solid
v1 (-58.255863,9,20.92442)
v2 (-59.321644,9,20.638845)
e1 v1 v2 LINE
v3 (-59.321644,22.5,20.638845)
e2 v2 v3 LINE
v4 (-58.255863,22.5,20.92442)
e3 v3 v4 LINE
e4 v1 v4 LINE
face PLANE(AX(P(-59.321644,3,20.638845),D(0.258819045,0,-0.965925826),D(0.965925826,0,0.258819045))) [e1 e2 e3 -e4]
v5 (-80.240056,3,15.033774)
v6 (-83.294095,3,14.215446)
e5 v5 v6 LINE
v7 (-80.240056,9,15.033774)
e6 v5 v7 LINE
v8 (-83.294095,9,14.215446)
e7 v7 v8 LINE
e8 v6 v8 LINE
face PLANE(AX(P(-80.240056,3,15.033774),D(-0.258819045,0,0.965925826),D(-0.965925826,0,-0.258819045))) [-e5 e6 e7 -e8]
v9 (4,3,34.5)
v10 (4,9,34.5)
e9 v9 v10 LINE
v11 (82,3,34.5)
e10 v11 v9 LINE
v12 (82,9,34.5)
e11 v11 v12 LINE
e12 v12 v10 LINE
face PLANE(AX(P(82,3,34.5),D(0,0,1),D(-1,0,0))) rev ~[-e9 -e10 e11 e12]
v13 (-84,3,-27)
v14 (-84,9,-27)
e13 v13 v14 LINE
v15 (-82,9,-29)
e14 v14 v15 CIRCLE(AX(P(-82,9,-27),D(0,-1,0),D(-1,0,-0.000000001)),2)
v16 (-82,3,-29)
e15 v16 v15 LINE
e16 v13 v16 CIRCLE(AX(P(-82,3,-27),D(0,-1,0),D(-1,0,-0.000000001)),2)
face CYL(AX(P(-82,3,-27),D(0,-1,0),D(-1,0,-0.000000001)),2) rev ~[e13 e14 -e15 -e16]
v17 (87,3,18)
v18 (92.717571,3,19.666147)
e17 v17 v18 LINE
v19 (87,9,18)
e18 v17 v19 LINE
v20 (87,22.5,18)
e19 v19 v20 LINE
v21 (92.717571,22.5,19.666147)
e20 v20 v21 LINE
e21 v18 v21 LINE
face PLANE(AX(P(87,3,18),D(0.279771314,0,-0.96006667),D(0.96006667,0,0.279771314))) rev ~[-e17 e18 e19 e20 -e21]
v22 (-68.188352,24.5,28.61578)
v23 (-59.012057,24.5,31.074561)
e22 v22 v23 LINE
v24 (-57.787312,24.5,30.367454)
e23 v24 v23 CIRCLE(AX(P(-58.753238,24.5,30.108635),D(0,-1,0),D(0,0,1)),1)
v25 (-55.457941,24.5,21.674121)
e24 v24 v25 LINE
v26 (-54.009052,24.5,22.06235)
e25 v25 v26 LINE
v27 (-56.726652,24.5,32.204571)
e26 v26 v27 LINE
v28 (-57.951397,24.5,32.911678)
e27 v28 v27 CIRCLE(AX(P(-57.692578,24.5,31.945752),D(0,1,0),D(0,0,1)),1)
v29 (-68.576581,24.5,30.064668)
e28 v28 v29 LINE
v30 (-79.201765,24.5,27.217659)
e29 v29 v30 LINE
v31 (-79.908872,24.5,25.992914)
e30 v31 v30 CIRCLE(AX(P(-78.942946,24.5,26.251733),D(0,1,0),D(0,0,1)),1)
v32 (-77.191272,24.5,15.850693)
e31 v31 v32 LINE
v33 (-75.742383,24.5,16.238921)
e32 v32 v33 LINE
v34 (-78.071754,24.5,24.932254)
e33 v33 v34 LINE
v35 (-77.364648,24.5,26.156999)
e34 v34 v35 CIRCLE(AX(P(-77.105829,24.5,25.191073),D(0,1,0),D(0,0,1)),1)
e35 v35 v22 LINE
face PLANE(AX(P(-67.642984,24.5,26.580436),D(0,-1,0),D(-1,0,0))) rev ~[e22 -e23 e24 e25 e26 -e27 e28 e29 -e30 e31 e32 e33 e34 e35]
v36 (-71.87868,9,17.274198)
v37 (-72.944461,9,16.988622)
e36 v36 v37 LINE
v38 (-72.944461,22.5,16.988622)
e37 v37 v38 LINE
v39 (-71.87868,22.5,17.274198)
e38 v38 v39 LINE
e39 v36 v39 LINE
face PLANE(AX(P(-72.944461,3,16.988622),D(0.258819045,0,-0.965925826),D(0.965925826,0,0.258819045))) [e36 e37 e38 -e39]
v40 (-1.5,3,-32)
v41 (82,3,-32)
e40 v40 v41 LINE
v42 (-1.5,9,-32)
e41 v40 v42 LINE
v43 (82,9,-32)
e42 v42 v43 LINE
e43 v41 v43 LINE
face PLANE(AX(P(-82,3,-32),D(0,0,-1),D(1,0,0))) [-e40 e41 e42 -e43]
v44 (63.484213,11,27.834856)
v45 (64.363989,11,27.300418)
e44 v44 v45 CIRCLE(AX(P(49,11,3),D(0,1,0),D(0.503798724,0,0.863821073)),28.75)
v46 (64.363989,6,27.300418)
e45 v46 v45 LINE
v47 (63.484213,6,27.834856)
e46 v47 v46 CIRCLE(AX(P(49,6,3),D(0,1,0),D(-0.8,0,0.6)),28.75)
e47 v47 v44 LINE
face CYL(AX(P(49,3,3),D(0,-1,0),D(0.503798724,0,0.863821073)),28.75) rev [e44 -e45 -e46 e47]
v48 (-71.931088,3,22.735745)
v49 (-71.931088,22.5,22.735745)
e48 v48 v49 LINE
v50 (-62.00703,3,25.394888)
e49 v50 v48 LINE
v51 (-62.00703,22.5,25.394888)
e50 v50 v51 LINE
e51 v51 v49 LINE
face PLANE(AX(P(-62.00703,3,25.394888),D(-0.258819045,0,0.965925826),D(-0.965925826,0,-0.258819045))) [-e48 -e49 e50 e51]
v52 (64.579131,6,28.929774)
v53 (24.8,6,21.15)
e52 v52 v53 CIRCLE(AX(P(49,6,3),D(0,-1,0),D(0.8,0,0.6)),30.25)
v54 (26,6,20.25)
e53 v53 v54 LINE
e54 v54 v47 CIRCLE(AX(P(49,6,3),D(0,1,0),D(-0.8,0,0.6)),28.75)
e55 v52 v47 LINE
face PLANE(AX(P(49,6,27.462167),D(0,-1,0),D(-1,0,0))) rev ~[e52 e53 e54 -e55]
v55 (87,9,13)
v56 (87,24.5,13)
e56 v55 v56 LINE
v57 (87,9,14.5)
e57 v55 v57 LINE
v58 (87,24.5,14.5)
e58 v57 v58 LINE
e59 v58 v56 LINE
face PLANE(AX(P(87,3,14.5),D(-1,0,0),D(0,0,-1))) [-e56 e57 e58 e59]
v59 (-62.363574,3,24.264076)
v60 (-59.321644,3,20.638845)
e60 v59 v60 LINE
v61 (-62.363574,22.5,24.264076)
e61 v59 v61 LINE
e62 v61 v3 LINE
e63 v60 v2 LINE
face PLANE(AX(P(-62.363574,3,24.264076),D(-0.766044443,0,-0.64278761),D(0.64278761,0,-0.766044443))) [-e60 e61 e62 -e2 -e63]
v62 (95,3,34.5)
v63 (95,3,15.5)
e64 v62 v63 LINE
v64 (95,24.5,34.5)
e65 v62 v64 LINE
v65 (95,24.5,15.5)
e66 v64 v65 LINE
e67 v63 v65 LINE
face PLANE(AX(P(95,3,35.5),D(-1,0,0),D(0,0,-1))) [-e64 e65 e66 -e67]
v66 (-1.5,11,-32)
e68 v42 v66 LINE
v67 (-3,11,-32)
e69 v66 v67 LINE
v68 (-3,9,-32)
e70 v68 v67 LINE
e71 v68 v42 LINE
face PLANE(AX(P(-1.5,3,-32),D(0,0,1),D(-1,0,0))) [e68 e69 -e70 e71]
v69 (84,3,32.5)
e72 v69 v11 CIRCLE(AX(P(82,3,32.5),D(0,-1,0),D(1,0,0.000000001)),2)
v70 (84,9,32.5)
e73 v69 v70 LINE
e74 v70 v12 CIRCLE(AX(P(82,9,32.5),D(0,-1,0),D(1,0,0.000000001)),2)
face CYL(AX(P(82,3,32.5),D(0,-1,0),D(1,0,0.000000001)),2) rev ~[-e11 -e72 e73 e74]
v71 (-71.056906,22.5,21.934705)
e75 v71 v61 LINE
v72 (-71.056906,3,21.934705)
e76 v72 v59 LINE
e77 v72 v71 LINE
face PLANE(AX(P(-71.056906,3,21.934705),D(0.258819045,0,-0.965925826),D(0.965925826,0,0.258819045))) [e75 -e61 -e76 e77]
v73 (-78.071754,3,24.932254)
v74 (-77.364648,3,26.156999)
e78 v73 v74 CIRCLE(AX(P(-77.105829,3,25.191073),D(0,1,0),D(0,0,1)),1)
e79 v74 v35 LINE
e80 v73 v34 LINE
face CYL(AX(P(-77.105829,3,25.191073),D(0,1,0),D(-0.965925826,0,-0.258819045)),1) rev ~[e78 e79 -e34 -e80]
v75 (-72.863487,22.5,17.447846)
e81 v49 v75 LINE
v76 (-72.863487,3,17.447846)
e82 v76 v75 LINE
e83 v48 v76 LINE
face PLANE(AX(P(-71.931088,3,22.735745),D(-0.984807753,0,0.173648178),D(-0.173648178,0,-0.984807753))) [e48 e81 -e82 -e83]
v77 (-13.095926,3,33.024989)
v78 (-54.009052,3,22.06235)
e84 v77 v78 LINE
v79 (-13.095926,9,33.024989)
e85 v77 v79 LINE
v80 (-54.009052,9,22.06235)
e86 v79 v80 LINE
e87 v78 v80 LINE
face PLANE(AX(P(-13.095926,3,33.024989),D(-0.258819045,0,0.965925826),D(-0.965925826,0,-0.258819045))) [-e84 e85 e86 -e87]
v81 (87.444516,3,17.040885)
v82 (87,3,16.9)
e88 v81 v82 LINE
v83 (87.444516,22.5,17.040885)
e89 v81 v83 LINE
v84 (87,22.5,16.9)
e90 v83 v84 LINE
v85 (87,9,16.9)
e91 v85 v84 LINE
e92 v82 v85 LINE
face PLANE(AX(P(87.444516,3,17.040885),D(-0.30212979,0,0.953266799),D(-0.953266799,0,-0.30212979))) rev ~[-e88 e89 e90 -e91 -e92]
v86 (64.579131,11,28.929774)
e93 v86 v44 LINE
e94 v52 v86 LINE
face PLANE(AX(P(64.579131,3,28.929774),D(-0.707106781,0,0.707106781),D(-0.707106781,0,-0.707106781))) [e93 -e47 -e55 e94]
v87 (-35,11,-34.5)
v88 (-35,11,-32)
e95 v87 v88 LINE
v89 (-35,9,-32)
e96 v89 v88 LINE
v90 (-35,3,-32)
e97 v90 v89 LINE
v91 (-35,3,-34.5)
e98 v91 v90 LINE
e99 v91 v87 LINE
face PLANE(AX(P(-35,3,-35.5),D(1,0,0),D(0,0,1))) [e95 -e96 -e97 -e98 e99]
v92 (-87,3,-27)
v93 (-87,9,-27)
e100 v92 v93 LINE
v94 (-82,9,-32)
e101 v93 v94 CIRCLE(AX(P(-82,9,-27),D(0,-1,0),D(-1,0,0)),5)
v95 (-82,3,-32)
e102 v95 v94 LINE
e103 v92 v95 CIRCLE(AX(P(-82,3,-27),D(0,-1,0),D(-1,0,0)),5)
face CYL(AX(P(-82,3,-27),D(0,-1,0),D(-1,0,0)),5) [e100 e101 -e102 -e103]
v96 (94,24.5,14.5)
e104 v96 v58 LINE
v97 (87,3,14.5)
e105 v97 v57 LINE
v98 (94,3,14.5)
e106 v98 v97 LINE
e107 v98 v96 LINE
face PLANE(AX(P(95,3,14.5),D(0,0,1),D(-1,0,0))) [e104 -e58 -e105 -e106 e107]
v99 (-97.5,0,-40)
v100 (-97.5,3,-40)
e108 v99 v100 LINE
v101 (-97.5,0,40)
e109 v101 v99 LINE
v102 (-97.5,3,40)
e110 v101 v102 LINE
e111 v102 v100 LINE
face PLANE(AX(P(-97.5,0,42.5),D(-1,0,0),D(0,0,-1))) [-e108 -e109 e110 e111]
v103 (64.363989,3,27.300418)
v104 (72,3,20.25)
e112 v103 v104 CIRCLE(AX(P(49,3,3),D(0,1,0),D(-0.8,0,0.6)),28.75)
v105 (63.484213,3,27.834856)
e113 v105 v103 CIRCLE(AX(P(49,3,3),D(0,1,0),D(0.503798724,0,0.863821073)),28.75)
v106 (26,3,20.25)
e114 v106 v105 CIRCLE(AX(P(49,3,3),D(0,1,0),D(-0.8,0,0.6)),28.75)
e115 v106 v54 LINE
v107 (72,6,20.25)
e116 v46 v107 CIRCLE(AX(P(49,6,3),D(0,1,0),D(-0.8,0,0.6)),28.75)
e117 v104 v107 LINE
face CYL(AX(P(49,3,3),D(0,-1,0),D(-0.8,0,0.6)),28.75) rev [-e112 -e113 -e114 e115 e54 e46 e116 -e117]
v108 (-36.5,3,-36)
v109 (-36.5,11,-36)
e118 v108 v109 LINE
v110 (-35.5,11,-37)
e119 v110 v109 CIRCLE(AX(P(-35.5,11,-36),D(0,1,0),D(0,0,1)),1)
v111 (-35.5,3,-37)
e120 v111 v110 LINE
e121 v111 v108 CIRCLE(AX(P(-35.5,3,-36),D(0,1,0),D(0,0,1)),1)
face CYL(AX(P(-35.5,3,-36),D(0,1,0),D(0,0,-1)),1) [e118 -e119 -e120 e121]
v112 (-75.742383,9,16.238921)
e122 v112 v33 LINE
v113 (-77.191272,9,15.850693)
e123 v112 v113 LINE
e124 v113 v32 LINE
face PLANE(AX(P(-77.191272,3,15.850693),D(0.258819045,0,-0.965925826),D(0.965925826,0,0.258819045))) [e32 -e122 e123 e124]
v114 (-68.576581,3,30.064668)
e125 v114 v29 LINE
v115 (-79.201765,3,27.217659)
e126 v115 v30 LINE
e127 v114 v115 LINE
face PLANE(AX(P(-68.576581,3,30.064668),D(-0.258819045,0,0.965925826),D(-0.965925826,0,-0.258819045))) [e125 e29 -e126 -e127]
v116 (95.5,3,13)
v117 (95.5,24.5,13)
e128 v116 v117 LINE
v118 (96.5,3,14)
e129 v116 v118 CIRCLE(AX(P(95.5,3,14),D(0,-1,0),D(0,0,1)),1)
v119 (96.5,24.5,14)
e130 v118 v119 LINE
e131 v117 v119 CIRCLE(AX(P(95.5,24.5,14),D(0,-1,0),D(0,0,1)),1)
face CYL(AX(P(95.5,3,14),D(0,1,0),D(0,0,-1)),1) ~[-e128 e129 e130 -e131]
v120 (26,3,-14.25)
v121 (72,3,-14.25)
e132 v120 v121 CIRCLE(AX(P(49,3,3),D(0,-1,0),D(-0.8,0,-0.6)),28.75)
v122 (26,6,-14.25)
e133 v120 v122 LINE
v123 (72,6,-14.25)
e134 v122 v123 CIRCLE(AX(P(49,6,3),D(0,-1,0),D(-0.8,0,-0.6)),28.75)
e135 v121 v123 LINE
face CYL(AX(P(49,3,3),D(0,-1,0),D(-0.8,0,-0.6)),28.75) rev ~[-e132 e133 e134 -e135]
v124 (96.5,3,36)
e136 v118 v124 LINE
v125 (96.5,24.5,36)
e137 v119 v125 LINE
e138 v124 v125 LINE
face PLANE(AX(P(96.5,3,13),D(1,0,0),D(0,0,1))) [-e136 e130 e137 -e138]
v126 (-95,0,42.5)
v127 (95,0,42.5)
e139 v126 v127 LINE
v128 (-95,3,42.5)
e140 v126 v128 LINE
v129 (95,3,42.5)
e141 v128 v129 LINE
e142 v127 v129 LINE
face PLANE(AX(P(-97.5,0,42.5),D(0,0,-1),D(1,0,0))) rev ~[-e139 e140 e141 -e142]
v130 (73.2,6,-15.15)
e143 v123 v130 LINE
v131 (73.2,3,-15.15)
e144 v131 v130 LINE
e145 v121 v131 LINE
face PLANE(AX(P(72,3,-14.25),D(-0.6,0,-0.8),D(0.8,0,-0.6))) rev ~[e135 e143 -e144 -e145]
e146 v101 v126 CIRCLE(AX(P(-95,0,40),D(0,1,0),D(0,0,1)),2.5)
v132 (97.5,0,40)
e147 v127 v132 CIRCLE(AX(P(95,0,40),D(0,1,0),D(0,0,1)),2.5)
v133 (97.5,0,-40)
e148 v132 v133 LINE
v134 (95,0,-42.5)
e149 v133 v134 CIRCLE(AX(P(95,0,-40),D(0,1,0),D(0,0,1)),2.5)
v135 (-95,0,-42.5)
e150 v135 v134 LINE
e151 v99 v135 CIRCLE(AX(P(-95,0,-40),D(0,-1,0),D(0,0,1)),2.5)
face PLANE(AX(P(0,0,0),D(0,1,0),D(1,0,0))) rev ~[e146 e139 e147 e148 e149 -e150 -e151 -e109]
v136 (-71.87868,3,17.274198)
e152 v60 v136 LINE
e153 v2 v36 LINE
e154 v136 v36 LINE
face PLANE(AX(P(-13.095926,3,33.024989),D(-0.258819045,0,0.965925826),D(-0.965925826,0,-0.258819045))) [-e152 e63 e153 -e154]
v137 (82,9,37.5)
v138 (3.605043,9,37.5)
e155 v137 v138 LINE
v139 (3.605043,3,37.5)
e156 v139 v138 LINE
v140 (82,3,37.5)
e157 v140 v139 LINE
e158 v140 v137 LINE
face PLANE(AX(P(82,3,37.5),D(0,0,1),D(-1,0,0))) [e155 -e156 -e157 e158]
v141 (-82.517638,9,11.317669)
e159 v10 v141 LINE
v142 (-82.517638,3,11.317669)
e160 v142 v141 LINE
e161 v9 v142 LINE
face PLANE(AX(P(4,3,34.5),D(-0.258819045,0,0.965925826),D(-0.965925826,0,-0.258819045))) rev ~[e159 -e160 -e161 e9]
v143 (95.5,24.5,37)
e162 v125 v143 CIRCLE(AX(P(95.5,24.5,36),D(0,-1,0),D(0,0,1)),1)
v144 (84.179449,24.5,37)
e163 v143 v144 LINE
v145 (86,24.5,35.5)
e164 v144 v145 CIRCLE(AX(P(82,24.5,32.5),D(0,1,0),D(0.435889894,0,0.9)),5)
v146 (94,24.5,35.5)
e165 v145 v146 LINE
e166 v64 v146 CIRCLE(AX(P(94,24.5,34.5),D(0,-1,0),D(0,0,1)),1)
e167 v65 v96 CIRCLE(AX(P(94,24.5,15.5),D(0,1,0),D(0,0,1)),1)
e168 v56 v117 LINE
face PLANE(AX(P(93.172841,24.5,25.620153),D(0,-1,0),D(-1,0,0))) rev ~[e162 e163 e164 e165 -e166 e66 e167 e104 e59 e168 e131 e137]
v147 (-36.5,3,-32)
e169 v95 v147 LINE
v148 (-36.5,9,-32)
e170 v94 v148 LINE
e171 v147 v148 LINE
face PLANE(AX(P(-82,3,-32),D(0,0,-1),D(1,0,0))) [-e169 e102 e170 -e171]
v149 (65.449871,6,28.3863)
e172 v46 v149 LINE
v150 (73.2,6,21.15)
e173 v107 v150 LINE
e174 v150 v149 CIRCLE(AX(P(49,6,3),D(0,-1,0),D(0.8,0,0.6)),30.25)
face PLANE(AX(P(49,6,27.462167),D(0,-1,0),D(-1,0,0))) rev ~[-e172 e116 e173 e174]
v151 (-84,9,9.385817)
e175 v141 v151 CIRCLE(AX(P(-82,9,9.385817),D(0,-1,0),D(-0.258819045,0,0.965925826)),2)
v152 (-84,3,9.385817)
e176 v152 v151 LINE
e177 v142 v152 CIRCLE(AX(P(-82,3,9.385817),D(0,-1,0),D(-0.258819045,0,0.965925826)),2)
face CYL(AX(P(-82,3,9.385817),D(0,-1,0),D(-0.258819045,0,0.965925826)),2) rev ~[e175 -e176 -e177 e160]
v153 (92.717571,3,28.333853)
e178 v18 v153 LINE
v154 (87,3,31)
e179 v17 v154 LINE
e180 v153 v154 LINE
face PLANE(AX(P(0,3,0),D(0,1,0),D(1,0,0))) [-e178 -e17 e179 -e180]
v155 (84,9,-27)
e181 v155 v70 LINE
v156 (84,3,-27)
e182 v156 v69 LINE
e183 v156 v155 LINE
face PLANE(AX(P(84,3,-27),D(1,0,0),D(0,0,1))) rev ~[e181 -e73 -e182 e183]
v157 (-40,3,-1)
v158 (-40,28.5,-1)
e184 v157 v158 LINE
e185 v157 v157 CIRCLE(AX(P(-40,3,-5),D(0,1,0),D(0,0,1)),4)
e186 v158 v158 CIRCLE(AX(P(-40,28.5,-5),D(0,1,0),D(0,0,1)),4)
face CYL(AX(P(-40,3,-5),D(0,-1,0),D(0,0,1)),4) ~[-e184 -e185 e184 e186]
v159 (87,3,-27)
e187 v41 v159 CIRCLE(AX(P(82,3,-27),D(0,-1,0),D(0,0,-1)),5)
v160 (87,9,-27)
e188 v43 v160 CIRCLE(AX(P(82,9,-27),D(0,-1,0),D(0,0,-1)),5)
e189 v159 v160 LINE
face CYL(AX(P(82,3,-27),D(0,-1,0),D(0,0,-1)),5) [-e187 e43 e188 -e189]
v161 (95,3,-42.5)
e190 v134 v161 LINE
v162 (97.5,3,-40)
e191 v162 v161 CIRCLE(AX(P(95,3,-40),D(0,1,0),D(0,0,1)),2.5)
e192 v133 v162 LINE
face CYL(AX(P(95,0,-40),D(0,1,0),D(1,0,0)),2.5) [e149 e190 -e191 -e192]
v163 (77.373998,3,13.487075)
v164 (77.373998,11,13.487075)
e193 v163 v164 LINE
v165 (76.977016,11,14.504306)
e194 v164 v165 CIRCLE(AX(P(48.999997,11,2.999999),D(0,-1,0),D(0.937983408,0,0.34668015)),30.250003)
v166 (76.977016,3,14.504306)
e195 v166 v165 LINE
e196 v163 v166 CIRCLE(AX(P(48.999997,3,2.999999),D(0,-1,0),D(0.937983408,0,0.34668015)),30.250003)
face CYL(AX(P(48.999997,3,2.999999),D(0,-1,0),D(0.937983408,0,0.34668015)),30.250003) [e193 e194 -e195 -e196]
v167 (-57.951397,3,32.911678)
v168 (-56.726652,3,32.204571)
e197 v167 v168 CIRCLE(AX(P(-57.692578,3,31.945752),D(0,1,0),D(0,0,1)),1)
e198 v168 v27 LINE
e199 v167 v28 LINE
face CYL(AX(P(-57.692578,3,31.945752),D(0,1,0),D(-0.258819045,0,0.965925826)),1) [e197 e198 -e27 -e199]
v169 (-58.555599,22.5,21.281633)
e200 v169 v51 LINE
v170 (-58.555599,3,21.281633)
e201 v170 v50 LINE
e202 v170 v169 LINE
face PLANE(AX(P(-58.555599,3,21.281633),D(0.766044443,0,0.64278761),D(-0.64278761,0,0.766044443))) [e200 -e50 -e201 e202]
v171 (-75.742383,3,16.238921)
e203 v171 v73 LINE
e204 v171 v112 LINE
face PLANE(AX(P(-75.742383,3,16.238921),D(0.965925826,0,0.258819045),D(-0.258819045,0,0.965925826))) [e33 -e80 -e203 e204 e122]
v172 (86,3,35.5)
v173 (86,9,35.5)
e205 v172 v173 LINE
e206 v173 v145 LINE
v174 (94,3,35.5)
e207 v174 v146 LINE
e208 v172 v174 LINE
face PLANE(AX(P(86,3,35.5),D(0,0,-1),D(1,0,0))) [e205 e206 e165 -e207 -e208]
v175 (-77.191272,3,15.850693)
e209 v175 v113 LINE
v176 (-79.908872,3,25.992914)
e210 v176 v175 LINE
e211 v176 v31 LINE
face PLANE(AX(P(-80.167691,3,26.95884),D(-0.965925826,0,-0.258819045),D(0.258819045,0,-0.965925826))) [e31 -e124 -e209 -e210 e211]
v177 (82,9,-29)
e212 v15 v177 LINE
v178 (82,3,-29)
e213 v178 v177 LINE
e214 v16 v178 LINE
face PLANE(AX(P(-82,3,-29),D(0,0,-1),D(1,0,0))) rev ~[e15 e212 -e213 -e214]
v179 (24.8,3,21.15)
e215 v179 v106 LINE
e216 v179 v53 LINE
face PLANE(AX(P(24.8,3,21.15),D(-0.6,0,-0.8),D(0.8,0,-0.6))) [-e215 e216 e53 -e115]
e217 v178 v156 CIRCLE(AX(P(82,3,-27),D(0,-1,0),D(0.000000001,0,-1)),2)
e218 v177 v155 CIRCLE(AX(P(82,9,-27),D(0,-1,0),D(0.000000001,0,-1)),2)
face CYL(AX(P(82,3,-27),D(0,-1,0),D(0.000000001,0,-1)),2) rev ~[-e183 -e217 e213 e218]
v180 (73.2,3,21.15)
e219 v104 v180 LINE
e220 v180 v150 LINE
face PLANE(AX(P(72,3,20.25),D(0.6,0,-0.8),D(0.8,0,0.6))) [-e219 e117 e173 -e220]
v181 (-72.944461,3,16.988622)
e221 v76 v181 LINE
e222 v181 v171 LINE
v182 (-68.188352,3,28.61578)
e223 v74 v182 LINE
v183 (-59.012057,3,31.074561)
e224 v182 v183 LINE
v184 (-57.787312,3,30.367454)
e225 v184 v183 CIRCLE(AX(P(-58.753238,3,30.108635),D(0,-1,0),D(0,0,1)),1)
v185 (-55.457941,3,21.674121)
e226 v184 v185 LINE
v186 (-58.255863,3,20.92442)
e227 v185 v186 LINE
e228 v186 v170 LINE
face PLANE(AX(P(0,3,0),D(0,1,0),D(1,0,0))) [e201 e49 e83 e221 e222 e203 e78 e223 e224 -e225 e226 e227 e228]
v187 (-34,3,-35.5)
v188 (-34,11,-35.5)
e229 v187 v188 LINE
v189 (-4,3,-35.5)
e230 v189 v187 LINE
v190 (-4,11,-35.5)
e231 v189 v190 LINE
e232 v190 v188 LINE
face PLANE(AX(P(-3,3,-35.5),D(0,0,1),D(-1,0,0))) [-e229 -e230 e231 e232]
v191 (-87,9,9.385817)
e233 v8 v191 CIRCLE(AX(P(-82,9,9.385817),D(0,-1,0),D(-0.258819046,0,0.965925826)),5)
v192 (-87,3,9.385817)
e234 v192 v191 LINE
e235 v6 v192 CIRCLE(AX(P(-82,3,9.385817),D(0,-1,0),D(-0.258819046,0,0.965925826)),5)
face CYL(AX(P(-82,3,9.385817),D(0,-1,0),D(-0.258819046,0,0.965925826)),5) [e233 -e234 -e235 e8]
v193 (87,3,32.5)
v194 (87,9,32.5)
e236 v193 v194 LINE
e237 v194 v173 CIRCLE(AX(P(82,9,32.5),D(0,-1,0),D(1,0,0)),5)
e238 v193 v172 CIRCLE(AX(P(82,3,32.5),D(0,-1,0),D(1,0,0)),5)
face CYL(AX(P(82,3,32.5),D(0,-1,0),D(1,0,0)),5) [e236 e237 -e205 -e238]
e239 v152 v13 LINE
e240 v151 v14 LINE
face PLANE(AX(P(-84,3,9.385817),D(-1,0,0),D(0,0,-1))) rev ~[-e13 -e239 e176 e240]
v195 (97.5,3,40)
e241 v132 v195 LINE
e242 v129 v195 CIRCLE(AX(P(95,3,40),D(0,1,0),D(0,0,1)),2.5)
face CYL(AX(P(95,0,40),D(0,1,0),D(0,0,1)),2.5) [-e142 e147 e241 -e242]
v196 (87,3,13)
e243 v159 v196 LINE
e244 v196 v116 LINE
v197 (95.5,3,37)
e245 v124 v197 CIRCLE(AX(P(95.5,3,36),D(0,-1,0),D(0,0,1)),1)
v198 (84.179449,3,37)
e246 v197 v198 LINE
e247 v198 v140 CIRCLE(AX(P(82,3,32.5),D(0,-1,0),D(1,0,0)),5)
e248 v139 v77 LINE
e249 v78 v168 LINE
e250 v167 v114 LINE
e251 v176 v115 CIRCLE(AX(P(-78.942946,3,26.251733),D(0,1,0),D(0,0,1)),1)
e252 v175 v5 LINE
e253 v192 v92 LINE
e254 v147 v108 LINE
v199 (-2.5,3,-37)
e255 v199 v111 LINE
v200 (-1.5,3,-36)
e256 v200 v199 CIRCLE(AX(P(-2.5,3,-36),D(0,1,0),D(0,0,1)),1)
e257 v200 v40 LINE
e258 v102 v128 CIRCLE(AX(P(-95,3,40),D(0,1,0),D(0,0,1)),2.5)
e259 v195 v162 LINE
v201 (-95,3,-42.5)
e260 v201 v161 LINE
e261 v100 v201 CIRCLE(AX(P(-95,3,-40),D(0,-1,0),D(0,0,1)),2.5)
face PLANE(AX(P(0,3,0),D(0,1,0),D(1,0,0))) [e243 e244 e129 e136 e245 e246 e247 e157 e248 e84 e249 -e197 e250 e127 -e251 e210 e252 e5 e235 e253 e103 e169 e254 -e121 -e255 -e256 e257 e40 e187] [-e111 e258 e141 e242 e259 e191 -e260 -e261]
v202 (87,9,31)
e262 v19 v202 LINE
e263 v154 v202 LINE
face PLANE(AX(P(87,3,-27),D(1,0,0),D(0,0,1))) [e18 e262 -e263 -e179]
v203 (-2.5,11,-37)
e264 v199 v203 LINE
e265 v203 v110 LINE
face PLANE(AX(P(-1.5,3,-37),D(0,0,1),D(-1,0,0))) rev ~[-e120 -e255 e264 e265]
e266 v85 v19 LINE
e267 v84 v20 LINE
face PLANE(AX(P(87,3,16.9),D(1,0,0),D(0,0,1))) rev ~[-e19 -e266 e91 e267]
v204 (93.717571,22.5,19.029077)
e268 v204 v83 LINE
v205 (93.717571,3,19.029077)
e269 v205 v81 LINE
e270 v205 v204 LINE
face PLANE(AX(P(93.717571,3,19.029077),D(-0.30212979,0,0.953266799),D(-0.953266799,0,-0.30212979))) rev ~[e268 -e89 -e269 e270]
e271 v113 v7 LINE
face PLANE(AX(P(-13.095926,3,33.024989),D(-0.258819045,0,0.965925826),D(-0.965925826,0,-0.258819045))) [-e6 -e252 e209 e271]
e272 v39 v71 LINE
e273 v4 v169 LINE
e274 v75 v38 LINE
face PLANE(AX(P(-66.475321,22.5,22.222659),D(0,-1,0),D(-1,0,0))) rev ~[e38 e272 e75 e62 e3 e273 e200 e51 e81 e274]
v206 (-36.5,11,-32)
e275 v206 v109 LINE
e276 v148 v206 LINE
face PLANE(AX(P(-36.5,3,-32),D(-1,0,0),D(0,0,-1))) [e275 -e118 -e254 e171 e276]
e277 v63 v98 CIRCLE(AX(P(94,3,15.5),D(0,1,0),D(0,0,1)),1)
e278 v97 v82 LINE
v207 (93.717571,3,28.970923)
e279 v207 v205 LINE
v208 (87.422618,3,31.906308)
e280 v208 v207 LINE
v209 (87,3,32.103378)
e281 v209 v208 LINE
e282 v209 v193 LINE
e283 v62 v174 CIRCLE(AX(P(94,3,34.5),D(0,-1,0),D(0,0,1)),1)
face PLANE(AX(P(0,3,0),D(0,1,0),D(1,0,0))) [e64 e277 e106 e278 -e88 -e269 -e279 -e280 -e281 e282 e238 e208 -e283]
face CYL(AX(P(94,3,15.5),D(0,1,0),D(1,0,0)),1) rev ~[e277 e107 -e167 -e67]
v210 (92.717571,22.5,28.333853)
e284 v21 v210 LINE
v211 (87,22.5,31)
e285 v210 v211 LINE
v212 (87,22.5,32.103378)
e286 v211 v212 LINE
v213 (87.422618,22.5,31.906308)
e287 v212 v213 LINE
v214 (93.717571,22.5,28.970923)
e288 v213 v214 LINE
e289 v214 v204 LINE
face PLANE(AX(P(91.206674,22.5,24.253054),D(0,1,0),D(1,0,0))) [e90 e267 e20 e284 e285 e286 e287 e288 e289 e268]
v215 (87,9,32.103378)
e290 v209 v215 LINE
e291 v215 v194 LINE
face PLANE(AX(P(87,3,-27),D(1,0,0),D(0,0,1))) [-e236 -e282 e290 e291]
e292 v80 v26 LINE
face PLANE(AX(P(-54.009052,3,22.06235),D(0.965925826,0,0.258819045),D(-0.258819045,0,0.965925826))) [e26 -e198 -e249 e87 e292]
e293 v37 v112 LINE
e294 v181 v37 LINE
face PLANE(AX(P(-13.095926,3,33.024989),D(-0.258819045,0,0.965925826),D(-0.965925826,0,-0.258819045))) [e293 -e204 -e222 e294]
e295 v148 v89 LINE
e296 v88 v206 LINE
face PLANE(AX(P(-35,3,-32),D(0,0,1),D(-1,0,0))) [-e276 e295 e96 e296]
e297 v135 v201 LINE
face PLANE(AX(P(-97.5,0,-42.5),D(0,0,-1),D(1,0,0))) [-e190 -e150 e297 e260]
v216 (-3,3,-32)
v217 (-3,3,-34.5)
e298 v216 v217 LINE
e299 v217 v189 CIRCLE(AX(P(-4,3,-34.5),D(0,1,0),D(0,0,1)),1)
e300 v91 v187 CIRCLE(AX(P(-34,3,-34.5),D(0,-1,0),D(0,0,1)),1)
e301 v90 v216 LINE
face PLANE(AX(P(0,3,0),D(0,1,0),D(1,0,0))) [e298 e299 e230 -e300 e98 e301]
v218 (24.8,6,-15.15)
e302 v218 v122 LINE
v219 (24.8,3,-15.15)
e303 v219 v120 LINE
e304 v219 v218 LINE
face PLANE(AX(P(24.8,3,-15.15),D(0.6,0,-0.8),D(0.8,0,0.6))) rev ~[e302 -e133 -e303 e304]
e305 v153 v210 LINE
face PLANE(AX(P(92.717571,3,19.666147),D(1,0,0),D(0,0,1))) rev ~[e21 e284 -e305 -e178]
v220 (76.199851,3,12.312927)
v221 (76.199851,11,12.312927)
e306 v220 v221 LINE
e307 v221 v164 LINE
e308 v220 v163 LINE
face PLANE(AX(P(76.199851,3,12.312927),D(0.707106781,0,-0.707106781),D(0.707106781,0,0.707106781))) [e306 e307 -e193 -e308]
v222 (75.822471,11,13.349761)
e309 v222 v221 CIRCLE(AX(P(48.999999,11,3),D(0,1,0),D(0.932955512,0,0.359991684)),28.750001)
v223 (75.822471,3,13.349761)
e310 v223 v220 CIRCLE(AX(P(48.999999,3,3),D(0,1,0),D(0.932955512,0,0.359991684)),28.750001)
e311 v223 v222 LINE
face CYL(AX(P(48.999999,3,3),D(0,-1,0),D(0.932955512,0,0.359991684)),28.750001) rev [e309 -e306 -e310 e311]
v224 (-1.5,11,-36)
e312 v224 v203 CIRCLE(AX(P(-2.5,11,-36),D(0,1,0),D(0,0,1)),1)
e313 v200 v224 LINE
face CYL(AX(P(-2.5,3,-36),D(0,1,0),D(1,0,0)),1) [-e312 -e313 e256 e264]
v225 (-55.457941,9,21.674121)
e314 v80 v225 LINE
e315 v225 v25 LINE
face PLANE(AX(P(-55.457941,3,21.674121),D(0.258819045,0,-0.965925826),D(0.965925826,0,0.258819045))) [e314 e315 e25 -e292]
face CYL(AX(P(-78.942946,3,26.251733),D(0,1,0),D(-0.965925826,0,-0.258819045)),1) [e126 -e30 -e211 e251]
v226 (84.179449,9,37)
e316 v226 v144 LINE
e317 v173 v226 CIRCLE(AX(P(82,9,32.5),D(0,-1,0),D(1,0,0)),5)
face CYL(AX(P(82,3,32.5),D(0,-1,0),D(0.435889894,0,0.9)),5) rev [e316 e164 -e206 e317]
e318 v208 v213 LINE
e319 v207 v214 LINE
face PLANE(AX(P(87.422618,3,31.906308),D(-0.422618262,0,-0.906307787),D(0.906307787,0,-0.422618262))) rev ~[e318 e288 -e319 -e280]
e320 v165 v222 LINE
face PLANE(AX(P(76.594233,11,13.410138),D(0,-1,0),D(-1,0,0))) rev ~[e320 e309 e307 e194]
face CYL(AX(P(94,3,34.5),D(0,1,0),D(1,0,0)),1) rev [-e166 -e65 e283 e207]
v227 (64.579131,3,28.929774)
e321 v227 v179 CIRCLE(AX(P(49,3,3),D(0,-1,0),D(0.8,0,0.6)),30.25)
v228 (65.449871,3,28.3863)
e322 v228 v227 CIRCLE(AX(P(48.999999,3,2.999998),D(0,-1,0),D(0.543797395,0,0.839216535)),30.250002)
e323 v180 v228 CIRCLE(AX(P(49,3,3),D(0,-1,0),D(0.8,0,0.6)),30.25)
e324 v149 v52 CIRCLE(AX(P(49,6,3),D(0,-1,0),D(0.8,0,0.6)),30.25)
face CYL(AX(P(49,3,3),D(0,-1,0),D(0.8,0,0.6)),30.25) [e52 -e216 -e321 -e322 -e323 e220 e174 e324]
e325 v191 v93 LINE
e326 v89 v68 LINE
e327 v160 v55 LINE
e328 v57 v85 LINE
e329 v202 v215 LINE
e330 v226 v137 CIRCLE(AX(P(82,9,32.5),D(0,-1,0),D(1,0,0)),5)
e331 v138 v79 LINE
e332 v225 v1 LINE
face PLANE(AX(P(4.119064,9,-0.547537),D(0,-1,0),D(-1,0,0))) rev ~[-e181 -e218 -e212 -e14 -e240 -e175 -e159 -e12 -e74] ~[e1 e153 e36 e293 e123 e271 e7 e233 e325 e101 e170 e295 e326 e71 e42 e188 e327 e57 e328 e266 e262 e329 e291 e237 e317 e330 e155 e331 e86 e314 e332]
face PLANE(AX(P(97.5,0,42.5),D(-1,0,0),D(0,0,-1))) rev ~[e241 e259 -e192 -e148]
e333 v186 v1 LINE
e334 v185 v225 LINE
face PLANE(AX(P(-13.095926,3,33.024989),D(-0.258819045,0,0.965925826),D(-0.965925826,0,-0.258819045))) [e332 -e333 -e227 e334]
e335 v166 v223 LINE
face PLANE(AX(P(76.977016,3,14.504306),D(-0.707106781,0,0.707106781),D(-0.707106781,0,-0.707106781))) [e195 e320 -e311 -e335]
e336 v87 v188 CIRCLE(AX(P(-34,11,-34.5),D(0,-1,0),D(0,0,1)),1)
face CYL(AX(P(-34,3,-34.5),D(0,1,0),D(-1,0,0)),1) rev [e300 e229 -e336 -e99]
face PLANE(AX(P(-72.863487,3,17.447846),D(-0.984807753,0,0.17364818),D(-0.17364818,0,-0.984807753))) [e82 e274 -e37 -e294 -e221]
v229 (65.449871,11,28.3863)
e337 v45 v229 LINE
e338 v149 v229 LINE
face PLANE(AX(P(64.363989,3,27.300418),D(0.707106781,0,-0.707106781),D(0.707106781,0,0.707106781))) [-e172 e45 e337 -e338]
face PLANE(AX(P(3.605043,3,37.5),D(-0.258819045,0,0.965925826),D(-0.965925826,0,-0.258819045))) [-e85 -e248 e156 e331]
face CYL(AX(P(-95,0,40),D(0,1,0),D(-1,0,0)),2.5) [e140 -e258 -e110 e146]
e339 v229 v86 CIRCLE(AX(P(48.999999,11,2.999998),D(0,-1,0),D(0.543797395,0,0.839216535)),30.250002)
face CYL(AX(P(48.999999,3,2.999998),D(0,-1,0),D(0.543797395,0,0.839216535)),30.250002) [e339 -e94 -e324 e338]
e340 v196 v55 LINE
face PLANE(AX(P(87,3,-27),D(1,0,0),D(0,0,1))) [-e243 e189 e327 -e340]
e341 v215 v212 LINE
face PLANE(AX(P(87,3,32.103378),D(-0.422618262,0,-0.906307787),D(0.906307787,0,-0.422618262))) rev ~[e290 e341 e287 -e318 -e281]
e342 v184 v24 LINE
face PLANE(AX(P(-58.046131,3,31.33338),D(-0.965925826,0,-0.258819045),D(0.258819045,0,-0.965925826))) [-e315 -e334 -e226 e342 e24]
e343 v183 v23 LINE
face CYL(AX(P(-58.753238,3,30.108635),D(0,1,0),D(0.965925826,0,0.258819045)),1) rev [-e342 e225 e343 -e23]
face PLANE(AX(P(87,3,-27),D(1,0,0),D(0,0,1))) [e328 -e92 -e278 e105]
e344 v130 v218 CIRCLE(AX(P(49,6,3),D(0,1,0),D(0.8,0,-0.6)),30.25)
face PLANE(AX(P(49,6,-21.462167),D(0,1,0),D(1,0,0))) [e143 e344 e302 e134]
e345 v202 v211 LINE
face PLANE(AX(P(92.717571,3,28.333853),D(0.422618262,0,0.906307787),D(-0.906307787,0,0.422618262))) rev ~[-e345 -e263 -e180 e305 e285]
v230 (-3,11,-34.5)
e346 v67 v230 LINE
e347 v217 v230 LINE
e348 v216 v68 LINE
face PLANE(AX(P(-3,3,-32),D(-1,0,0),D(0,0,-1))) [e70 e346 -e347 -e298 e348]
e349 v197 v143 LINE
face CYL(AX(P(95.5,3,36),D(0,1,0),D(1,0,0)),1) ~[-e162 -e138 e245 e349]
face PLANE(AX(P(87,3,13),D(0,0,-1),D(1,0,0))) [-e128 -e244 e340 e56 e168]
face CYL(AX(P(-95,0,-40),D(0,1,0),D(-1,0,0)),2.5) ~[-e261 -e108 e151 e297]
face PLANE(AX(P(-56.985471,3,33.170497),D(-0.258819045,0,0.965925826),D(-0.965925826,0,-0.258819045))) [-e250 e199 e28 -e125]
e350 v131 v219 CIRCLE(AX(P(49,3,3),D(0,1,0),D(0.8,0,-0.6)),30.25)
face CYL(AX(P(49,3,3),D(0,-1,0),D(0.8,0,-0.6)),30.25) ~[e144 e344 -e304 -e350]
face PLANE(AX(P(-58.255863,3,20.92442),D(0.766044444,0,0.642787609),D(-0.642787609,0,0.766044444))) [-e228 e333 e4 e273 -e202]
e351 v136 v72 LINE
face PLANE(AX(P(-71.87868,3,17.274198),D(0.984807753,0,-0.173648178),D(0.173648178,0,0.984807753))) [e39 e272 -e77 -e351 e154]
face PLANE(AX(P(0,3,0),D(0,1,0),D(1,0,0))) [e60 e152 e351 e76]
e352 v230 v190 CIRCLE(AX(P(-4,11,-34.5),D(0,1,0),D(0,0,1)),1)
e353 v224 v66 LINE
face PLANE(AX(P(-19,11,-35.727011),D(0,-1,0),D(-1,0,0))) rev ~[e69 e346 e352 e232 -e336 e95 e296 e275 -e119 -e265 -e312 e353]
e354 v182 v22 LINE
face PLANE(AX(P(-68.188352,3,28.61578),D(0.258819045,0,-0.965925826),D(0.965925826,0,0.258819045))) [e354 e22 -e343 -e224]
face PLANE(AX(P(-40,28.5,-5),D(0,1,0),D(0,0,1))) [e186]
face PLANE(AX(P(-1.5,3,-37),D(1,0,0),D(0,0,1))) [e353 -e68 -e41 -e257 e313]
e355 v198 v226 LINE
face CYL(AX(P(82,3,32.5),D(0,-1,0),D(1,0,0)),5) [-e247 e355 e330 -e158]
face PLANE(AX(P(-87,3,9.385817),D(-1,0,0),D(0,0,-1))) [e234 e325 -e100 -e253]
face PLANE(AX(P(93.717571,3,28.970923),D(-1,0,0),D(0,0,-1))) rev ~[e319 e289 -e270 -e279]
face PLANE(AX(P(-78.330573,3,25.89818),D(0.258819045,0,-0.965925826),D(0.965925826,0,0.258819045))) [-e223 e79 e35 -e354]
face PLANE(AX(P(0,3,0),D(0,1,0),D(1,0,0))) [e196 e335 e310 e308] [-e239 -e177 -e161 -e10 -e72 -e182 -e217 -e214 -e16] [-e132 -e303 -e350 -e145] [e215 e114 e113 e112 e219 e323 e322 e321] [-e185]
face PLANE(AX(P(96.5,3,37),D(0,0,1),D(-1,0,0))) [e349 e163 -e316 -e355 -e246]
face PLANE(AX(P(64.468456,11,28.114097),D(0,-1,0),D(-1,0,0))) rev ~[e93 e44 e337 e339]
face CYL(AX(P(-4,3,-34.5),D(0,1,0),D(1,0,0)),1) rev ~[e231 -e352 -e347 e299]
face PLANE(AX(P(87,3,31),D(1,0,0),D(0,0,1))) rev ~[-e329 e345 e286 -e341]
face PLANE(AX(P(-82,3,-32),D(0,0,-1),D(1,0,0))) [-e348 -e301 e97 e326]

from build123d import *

# Parameters (mm, degrees)
SKETCH1_W           = 195
SKETCH1_H           = 85
BOSS_EXTRUDE1_DEPTH = 3
FILLET1_R           = 2.5
BOSS_EXTRUDE2_DEPTH = 6
BOSS_EXTRUDE3_DEPTH = 8
BOSS_EXTRUDE4_DEPTH = 19.5
BOSS_EXTRUDE5_DEPTH = 21.5
FILLET2_R           = 1
SKETCH7_R           = 4
BOSS_EXTRUDE6_DEPTH = 25.5
BOSS_EXTRUDE7_DEPTH = 3
BOSS_EXTRUDE8_DEPTH = 8


with BuildPart() as part:
    # Sketch1 → Boss-Extrude1 (new body)
    with BuildSketch(Plane(origin=(0, 0, 0), x_dir=(1, 0, 0), z_dir=(0, 1, 0))):
        Rectangle(SKETCH1_W, SKETCH1_H)
    extrude(amount=BOSS_EXTRUDE1_DEPTH)

    # Fillet1
    fillet1_edges = [part.edges().sort_by_distance(p)[0] for p in [
        (97.5, 1.5, 42.5),
        (-97.5, 1.5, 42.5),
        (-97.5, 1.5, -42.5),
        (97.5, 1.5, -42.5),
    ]]
    fillet(fillet1_edges, radius=FILLET1_R)

    # Sketch3 → Boss-Extrude2 (add)
    with BuildSketch(Plane(origin=(0, 3, 0), x_dir=(1, 0, 0), z_dir=(0, 1, 0))):
        with BuildLine():
            Line((82, -37.5), (4, -37.5))
            Line((4, -37.5), (3.605042507, -37.5))
            Line((3.605042507, -37.5), (-13.095926291, -33.024988898))
            Line((-13.095926291, -33.024988898), (-80.24005573, -15.033773638))
            Line((-80.24005573, -15.033773638), (-83.294095226, -14.215446222))
            ThreePointArc((-83.294095226, -14.215446222), (-85.966766701, -12.429624235), (-87, -9.38581709))
            Line((-87, -9.38581709), (-87, 27))
            ThreePointArc((-87, 27), (-85.535533906, 30.535533906), (-82, 32))
            Line((-82, 32), (-81.875932746, 32))
            Line((-81.875932746, 32), (82, 32))
            ThreePointArc((82, 32), (85.535533906, 30.535533906), (87, 27))
            Line((87, 27), (87, -32.5))
            ThreePointArc((87, -32.5), (85.535533906, -36.035533906), (82, -37.5))
        make_face()
        with BuildLine():
            Line((-84, -9.38581709), (-84, 27))
            ThreePointArc((-84, 27), (-83.414213562, 28.414213562), (-82, 29))
            Line((-82, 29), (82, 29))
            ThreePointArc((82, 29), (83.414213562, 28.414213562), (84, 27))
            Line((84, 27), (84, -32.5))
            ThreePointArc((84, -32.5), (83.414213562, -33.914213562), (82, -34.5))
            Line((82, -34.5), (4, -34.5))
            Line((4, -34.5), (-82.51763809, -11.317668743))
            ThreePointArc((-82.51763809, -11.317668743), (-83.586706681, -10.603339948), (-84, -9.38581709))
        make_face(mode=Mode.SUBTRACT)
    extrude(amount=BOSS_EXTRUDE2_DEPTH)

    # Sketch4 → Boss-Extrude3 (add)
    with BuildSketch(Plane(origin=(0, 3, 0), x_dir=(1, 0, 0), z_dir=(0, 1, 0))):
        Polygon((-35, 35.5), (-35, 32), (-36.5, 32), (-36.5, 37), (-3, 37), (-1.5, 37), (-1.5, 32), (-3, 32), (-3, 35.5), align=None)
    extrude(amount=BOSS_EXTRUDE3_DEPTH)

    # Sketch5 → Boss-Extrude4 (add)
    with BuildSketch(Plane(origin=(0, 3, 0), x_dir=(1, 0, 0), z_dir=(0, 1, 0))):
        Polygon((93.717571079, -28.970923081), (93.717571079, -19.029076919), (87.444515609, -17.040885435), (87, -16.9), (87, -18), (92.717571079, -19.66614718), (92.717571079, -28.33385282), (87, -31), (87, -32.103377919), (87.422618262, -31.906307787), align=None)
        Polygon((-71.878679656, -17.274197605), (-71.056906471, -21.934704933), (-62.363574034, -24.264076339), (-59.321643915, -20.638845191), (-58.255862687, -20.92442041), (-58.555599472, -21.281632801), (-62.007030461, -25.394888082), (-71.931088134, -22.735744843), (-72.863487409, -17.447845782), (-72.944460885, -16.988622385), align=None)
    extrude(amount=BOSS_EXTRUDE4_DEPTH)

    # Sketch6 → Boss-Extrude5 (add)
    with BuildSketch(Plane(origin=(0, 3, 0), x_dir=(1, 0, 0), z_dir=(0, 1, 0))):
        with BuildLine():
            Line((95, -35.5), (95, -14.5))
            Line((95, -14.5), (87, -14.5))
            Line((87, -14.5), (87, -13))
            Line((87, -13), (96.5, -13))
            Line((96.5, -13), (96.5, -37))
            Line((96.5, -37), (84.179449472, -37))
            ThreePointArc((84.179449472, -37), (85.179449472, -36.358898944), (86, -35.5))
            Line((86, -35.5), (95, -35.5))
        make_face()
        Polygon((-75.742382962, -16.238921424), (-78.330573413, -25.898179687), (-68.188352237, -28.615779661), (-58.046131061, -31.333379634), (-55.45794061, -21.674121371), (-54.00905187, -22.062349939), (-56.985470889, -33.170496941), (-68.576580804, -30.0646684), (-80.16769072, -26.958839859), (-77.191271701, -15.850692856), align=None)
    extrude(amount=BOSS_EXTRUDE5_DEPTH)

    # Fillet2
    fillet2_edges = [part.edges().sort_by_distance(p)[0] for p in [
        (-1.5, 7, -37),
        (-36.5, 7, -37),
        (-35, 7, -35.5),
        (-3, 7, -35.5),
        (95, 13.75, 14.5),
        (95, 13.75, 35.5),
        (96.5, 13.75, 37),
        (96.5, 13.75, 13),
        (-80.16769072, 13.75, 26.958839859),
        (-56.985470889, 13.75, 33.170496941),
        (-58.046131061, 13.75, 31.333379634),
        (-78.330573413, 13.75, 25.898179687),
    ]]
    fillet(fillet2_edges, radius=FILLET2_R)

    # Sketch7 → Boss-Extrude6 (add)
    with BuildSketch(Plane(origin=(0, 3, 0), x_dir=(1, 0, 0), z_dir=(0, 1, 0))):
        with Locations(Location((-40, 5, 0), (0, 0, 270))):
            Circle(SKETCH7_R)
    extrude(amount=BOSS_EXTRUDE6_DEPTH)

    # Sketch8 → Boss-Extrude7 (add)
    with BuildSketch(Plane(origin=(0, 3, 0), x_dir=(1, 0, 0), z_dir=(0, 1, 0))):
        with BuildLine():
            Line((24.8, 15.15), (26, 14.25))
            ThreePointArc((26, 14.25), (49, 25.75), (72, 14.25))
            Line((72, 14.25), (73.2, 15.15))
            ThreePointArc((73.2, 15.15), (49, 27.25), (24.8, 15.15))
        make_face()
        with BuildLine():
            Line((24.8, -21.15), (26, -20.25))
            ThreePointArc((26, -20.25), (49, -31.75), (72, -20.25))
            Line((72, -20.25), (73.2, -21.15))
            ThreePointArc((73.2, -21.15), (49, -33.25), (24.8, -21.15))
        make_face()
    extrude(amount=BOSS_EXTRUDE7_DEPTH)

    # Sketch9 → Boss-Extrude8 (add)
    with BuildSketch(Plane(origin=(0, 3, 0), x_dir=(1, 0, 0), z_dir=(0, 1, 0))):
        with BuildLine():
            Line((64.363989362, -27.300418327), (65.449871217, -28.386300182))
            ThreePointArc((65.449871217, -28.386300182), (65.016806514, -28.661730438), (64.579131266, -28.929773794))
            Line((64.579131266, -28.929773794), (63.484213314, -27.834855842))
            ThreePointArc((63.484213314, -27.834855842), (63.926493446, -27.571574907), (64.363989362, -27.300418327))
        make_face()
        with BuildLine():
            Line((76.19985084, -12.312927266), (77.373998096, -13.487074522))
            ThreePointArc((77.373998096, -13.487074522), (77.180097488, -13.997481782), (76.977016247, -14.504306235))
            Line((76.977016247, -14.504306235), (75.822470959, -13.349760947))
            ThreePointArc((75.822470959, -13.349760947), (76.016135348, -12.833154674), (76.19985084, -12.312927266))
        make_face()
    extrude(amount=BOSS_EXTRUDE8_DEPTH)


solid = part.part
